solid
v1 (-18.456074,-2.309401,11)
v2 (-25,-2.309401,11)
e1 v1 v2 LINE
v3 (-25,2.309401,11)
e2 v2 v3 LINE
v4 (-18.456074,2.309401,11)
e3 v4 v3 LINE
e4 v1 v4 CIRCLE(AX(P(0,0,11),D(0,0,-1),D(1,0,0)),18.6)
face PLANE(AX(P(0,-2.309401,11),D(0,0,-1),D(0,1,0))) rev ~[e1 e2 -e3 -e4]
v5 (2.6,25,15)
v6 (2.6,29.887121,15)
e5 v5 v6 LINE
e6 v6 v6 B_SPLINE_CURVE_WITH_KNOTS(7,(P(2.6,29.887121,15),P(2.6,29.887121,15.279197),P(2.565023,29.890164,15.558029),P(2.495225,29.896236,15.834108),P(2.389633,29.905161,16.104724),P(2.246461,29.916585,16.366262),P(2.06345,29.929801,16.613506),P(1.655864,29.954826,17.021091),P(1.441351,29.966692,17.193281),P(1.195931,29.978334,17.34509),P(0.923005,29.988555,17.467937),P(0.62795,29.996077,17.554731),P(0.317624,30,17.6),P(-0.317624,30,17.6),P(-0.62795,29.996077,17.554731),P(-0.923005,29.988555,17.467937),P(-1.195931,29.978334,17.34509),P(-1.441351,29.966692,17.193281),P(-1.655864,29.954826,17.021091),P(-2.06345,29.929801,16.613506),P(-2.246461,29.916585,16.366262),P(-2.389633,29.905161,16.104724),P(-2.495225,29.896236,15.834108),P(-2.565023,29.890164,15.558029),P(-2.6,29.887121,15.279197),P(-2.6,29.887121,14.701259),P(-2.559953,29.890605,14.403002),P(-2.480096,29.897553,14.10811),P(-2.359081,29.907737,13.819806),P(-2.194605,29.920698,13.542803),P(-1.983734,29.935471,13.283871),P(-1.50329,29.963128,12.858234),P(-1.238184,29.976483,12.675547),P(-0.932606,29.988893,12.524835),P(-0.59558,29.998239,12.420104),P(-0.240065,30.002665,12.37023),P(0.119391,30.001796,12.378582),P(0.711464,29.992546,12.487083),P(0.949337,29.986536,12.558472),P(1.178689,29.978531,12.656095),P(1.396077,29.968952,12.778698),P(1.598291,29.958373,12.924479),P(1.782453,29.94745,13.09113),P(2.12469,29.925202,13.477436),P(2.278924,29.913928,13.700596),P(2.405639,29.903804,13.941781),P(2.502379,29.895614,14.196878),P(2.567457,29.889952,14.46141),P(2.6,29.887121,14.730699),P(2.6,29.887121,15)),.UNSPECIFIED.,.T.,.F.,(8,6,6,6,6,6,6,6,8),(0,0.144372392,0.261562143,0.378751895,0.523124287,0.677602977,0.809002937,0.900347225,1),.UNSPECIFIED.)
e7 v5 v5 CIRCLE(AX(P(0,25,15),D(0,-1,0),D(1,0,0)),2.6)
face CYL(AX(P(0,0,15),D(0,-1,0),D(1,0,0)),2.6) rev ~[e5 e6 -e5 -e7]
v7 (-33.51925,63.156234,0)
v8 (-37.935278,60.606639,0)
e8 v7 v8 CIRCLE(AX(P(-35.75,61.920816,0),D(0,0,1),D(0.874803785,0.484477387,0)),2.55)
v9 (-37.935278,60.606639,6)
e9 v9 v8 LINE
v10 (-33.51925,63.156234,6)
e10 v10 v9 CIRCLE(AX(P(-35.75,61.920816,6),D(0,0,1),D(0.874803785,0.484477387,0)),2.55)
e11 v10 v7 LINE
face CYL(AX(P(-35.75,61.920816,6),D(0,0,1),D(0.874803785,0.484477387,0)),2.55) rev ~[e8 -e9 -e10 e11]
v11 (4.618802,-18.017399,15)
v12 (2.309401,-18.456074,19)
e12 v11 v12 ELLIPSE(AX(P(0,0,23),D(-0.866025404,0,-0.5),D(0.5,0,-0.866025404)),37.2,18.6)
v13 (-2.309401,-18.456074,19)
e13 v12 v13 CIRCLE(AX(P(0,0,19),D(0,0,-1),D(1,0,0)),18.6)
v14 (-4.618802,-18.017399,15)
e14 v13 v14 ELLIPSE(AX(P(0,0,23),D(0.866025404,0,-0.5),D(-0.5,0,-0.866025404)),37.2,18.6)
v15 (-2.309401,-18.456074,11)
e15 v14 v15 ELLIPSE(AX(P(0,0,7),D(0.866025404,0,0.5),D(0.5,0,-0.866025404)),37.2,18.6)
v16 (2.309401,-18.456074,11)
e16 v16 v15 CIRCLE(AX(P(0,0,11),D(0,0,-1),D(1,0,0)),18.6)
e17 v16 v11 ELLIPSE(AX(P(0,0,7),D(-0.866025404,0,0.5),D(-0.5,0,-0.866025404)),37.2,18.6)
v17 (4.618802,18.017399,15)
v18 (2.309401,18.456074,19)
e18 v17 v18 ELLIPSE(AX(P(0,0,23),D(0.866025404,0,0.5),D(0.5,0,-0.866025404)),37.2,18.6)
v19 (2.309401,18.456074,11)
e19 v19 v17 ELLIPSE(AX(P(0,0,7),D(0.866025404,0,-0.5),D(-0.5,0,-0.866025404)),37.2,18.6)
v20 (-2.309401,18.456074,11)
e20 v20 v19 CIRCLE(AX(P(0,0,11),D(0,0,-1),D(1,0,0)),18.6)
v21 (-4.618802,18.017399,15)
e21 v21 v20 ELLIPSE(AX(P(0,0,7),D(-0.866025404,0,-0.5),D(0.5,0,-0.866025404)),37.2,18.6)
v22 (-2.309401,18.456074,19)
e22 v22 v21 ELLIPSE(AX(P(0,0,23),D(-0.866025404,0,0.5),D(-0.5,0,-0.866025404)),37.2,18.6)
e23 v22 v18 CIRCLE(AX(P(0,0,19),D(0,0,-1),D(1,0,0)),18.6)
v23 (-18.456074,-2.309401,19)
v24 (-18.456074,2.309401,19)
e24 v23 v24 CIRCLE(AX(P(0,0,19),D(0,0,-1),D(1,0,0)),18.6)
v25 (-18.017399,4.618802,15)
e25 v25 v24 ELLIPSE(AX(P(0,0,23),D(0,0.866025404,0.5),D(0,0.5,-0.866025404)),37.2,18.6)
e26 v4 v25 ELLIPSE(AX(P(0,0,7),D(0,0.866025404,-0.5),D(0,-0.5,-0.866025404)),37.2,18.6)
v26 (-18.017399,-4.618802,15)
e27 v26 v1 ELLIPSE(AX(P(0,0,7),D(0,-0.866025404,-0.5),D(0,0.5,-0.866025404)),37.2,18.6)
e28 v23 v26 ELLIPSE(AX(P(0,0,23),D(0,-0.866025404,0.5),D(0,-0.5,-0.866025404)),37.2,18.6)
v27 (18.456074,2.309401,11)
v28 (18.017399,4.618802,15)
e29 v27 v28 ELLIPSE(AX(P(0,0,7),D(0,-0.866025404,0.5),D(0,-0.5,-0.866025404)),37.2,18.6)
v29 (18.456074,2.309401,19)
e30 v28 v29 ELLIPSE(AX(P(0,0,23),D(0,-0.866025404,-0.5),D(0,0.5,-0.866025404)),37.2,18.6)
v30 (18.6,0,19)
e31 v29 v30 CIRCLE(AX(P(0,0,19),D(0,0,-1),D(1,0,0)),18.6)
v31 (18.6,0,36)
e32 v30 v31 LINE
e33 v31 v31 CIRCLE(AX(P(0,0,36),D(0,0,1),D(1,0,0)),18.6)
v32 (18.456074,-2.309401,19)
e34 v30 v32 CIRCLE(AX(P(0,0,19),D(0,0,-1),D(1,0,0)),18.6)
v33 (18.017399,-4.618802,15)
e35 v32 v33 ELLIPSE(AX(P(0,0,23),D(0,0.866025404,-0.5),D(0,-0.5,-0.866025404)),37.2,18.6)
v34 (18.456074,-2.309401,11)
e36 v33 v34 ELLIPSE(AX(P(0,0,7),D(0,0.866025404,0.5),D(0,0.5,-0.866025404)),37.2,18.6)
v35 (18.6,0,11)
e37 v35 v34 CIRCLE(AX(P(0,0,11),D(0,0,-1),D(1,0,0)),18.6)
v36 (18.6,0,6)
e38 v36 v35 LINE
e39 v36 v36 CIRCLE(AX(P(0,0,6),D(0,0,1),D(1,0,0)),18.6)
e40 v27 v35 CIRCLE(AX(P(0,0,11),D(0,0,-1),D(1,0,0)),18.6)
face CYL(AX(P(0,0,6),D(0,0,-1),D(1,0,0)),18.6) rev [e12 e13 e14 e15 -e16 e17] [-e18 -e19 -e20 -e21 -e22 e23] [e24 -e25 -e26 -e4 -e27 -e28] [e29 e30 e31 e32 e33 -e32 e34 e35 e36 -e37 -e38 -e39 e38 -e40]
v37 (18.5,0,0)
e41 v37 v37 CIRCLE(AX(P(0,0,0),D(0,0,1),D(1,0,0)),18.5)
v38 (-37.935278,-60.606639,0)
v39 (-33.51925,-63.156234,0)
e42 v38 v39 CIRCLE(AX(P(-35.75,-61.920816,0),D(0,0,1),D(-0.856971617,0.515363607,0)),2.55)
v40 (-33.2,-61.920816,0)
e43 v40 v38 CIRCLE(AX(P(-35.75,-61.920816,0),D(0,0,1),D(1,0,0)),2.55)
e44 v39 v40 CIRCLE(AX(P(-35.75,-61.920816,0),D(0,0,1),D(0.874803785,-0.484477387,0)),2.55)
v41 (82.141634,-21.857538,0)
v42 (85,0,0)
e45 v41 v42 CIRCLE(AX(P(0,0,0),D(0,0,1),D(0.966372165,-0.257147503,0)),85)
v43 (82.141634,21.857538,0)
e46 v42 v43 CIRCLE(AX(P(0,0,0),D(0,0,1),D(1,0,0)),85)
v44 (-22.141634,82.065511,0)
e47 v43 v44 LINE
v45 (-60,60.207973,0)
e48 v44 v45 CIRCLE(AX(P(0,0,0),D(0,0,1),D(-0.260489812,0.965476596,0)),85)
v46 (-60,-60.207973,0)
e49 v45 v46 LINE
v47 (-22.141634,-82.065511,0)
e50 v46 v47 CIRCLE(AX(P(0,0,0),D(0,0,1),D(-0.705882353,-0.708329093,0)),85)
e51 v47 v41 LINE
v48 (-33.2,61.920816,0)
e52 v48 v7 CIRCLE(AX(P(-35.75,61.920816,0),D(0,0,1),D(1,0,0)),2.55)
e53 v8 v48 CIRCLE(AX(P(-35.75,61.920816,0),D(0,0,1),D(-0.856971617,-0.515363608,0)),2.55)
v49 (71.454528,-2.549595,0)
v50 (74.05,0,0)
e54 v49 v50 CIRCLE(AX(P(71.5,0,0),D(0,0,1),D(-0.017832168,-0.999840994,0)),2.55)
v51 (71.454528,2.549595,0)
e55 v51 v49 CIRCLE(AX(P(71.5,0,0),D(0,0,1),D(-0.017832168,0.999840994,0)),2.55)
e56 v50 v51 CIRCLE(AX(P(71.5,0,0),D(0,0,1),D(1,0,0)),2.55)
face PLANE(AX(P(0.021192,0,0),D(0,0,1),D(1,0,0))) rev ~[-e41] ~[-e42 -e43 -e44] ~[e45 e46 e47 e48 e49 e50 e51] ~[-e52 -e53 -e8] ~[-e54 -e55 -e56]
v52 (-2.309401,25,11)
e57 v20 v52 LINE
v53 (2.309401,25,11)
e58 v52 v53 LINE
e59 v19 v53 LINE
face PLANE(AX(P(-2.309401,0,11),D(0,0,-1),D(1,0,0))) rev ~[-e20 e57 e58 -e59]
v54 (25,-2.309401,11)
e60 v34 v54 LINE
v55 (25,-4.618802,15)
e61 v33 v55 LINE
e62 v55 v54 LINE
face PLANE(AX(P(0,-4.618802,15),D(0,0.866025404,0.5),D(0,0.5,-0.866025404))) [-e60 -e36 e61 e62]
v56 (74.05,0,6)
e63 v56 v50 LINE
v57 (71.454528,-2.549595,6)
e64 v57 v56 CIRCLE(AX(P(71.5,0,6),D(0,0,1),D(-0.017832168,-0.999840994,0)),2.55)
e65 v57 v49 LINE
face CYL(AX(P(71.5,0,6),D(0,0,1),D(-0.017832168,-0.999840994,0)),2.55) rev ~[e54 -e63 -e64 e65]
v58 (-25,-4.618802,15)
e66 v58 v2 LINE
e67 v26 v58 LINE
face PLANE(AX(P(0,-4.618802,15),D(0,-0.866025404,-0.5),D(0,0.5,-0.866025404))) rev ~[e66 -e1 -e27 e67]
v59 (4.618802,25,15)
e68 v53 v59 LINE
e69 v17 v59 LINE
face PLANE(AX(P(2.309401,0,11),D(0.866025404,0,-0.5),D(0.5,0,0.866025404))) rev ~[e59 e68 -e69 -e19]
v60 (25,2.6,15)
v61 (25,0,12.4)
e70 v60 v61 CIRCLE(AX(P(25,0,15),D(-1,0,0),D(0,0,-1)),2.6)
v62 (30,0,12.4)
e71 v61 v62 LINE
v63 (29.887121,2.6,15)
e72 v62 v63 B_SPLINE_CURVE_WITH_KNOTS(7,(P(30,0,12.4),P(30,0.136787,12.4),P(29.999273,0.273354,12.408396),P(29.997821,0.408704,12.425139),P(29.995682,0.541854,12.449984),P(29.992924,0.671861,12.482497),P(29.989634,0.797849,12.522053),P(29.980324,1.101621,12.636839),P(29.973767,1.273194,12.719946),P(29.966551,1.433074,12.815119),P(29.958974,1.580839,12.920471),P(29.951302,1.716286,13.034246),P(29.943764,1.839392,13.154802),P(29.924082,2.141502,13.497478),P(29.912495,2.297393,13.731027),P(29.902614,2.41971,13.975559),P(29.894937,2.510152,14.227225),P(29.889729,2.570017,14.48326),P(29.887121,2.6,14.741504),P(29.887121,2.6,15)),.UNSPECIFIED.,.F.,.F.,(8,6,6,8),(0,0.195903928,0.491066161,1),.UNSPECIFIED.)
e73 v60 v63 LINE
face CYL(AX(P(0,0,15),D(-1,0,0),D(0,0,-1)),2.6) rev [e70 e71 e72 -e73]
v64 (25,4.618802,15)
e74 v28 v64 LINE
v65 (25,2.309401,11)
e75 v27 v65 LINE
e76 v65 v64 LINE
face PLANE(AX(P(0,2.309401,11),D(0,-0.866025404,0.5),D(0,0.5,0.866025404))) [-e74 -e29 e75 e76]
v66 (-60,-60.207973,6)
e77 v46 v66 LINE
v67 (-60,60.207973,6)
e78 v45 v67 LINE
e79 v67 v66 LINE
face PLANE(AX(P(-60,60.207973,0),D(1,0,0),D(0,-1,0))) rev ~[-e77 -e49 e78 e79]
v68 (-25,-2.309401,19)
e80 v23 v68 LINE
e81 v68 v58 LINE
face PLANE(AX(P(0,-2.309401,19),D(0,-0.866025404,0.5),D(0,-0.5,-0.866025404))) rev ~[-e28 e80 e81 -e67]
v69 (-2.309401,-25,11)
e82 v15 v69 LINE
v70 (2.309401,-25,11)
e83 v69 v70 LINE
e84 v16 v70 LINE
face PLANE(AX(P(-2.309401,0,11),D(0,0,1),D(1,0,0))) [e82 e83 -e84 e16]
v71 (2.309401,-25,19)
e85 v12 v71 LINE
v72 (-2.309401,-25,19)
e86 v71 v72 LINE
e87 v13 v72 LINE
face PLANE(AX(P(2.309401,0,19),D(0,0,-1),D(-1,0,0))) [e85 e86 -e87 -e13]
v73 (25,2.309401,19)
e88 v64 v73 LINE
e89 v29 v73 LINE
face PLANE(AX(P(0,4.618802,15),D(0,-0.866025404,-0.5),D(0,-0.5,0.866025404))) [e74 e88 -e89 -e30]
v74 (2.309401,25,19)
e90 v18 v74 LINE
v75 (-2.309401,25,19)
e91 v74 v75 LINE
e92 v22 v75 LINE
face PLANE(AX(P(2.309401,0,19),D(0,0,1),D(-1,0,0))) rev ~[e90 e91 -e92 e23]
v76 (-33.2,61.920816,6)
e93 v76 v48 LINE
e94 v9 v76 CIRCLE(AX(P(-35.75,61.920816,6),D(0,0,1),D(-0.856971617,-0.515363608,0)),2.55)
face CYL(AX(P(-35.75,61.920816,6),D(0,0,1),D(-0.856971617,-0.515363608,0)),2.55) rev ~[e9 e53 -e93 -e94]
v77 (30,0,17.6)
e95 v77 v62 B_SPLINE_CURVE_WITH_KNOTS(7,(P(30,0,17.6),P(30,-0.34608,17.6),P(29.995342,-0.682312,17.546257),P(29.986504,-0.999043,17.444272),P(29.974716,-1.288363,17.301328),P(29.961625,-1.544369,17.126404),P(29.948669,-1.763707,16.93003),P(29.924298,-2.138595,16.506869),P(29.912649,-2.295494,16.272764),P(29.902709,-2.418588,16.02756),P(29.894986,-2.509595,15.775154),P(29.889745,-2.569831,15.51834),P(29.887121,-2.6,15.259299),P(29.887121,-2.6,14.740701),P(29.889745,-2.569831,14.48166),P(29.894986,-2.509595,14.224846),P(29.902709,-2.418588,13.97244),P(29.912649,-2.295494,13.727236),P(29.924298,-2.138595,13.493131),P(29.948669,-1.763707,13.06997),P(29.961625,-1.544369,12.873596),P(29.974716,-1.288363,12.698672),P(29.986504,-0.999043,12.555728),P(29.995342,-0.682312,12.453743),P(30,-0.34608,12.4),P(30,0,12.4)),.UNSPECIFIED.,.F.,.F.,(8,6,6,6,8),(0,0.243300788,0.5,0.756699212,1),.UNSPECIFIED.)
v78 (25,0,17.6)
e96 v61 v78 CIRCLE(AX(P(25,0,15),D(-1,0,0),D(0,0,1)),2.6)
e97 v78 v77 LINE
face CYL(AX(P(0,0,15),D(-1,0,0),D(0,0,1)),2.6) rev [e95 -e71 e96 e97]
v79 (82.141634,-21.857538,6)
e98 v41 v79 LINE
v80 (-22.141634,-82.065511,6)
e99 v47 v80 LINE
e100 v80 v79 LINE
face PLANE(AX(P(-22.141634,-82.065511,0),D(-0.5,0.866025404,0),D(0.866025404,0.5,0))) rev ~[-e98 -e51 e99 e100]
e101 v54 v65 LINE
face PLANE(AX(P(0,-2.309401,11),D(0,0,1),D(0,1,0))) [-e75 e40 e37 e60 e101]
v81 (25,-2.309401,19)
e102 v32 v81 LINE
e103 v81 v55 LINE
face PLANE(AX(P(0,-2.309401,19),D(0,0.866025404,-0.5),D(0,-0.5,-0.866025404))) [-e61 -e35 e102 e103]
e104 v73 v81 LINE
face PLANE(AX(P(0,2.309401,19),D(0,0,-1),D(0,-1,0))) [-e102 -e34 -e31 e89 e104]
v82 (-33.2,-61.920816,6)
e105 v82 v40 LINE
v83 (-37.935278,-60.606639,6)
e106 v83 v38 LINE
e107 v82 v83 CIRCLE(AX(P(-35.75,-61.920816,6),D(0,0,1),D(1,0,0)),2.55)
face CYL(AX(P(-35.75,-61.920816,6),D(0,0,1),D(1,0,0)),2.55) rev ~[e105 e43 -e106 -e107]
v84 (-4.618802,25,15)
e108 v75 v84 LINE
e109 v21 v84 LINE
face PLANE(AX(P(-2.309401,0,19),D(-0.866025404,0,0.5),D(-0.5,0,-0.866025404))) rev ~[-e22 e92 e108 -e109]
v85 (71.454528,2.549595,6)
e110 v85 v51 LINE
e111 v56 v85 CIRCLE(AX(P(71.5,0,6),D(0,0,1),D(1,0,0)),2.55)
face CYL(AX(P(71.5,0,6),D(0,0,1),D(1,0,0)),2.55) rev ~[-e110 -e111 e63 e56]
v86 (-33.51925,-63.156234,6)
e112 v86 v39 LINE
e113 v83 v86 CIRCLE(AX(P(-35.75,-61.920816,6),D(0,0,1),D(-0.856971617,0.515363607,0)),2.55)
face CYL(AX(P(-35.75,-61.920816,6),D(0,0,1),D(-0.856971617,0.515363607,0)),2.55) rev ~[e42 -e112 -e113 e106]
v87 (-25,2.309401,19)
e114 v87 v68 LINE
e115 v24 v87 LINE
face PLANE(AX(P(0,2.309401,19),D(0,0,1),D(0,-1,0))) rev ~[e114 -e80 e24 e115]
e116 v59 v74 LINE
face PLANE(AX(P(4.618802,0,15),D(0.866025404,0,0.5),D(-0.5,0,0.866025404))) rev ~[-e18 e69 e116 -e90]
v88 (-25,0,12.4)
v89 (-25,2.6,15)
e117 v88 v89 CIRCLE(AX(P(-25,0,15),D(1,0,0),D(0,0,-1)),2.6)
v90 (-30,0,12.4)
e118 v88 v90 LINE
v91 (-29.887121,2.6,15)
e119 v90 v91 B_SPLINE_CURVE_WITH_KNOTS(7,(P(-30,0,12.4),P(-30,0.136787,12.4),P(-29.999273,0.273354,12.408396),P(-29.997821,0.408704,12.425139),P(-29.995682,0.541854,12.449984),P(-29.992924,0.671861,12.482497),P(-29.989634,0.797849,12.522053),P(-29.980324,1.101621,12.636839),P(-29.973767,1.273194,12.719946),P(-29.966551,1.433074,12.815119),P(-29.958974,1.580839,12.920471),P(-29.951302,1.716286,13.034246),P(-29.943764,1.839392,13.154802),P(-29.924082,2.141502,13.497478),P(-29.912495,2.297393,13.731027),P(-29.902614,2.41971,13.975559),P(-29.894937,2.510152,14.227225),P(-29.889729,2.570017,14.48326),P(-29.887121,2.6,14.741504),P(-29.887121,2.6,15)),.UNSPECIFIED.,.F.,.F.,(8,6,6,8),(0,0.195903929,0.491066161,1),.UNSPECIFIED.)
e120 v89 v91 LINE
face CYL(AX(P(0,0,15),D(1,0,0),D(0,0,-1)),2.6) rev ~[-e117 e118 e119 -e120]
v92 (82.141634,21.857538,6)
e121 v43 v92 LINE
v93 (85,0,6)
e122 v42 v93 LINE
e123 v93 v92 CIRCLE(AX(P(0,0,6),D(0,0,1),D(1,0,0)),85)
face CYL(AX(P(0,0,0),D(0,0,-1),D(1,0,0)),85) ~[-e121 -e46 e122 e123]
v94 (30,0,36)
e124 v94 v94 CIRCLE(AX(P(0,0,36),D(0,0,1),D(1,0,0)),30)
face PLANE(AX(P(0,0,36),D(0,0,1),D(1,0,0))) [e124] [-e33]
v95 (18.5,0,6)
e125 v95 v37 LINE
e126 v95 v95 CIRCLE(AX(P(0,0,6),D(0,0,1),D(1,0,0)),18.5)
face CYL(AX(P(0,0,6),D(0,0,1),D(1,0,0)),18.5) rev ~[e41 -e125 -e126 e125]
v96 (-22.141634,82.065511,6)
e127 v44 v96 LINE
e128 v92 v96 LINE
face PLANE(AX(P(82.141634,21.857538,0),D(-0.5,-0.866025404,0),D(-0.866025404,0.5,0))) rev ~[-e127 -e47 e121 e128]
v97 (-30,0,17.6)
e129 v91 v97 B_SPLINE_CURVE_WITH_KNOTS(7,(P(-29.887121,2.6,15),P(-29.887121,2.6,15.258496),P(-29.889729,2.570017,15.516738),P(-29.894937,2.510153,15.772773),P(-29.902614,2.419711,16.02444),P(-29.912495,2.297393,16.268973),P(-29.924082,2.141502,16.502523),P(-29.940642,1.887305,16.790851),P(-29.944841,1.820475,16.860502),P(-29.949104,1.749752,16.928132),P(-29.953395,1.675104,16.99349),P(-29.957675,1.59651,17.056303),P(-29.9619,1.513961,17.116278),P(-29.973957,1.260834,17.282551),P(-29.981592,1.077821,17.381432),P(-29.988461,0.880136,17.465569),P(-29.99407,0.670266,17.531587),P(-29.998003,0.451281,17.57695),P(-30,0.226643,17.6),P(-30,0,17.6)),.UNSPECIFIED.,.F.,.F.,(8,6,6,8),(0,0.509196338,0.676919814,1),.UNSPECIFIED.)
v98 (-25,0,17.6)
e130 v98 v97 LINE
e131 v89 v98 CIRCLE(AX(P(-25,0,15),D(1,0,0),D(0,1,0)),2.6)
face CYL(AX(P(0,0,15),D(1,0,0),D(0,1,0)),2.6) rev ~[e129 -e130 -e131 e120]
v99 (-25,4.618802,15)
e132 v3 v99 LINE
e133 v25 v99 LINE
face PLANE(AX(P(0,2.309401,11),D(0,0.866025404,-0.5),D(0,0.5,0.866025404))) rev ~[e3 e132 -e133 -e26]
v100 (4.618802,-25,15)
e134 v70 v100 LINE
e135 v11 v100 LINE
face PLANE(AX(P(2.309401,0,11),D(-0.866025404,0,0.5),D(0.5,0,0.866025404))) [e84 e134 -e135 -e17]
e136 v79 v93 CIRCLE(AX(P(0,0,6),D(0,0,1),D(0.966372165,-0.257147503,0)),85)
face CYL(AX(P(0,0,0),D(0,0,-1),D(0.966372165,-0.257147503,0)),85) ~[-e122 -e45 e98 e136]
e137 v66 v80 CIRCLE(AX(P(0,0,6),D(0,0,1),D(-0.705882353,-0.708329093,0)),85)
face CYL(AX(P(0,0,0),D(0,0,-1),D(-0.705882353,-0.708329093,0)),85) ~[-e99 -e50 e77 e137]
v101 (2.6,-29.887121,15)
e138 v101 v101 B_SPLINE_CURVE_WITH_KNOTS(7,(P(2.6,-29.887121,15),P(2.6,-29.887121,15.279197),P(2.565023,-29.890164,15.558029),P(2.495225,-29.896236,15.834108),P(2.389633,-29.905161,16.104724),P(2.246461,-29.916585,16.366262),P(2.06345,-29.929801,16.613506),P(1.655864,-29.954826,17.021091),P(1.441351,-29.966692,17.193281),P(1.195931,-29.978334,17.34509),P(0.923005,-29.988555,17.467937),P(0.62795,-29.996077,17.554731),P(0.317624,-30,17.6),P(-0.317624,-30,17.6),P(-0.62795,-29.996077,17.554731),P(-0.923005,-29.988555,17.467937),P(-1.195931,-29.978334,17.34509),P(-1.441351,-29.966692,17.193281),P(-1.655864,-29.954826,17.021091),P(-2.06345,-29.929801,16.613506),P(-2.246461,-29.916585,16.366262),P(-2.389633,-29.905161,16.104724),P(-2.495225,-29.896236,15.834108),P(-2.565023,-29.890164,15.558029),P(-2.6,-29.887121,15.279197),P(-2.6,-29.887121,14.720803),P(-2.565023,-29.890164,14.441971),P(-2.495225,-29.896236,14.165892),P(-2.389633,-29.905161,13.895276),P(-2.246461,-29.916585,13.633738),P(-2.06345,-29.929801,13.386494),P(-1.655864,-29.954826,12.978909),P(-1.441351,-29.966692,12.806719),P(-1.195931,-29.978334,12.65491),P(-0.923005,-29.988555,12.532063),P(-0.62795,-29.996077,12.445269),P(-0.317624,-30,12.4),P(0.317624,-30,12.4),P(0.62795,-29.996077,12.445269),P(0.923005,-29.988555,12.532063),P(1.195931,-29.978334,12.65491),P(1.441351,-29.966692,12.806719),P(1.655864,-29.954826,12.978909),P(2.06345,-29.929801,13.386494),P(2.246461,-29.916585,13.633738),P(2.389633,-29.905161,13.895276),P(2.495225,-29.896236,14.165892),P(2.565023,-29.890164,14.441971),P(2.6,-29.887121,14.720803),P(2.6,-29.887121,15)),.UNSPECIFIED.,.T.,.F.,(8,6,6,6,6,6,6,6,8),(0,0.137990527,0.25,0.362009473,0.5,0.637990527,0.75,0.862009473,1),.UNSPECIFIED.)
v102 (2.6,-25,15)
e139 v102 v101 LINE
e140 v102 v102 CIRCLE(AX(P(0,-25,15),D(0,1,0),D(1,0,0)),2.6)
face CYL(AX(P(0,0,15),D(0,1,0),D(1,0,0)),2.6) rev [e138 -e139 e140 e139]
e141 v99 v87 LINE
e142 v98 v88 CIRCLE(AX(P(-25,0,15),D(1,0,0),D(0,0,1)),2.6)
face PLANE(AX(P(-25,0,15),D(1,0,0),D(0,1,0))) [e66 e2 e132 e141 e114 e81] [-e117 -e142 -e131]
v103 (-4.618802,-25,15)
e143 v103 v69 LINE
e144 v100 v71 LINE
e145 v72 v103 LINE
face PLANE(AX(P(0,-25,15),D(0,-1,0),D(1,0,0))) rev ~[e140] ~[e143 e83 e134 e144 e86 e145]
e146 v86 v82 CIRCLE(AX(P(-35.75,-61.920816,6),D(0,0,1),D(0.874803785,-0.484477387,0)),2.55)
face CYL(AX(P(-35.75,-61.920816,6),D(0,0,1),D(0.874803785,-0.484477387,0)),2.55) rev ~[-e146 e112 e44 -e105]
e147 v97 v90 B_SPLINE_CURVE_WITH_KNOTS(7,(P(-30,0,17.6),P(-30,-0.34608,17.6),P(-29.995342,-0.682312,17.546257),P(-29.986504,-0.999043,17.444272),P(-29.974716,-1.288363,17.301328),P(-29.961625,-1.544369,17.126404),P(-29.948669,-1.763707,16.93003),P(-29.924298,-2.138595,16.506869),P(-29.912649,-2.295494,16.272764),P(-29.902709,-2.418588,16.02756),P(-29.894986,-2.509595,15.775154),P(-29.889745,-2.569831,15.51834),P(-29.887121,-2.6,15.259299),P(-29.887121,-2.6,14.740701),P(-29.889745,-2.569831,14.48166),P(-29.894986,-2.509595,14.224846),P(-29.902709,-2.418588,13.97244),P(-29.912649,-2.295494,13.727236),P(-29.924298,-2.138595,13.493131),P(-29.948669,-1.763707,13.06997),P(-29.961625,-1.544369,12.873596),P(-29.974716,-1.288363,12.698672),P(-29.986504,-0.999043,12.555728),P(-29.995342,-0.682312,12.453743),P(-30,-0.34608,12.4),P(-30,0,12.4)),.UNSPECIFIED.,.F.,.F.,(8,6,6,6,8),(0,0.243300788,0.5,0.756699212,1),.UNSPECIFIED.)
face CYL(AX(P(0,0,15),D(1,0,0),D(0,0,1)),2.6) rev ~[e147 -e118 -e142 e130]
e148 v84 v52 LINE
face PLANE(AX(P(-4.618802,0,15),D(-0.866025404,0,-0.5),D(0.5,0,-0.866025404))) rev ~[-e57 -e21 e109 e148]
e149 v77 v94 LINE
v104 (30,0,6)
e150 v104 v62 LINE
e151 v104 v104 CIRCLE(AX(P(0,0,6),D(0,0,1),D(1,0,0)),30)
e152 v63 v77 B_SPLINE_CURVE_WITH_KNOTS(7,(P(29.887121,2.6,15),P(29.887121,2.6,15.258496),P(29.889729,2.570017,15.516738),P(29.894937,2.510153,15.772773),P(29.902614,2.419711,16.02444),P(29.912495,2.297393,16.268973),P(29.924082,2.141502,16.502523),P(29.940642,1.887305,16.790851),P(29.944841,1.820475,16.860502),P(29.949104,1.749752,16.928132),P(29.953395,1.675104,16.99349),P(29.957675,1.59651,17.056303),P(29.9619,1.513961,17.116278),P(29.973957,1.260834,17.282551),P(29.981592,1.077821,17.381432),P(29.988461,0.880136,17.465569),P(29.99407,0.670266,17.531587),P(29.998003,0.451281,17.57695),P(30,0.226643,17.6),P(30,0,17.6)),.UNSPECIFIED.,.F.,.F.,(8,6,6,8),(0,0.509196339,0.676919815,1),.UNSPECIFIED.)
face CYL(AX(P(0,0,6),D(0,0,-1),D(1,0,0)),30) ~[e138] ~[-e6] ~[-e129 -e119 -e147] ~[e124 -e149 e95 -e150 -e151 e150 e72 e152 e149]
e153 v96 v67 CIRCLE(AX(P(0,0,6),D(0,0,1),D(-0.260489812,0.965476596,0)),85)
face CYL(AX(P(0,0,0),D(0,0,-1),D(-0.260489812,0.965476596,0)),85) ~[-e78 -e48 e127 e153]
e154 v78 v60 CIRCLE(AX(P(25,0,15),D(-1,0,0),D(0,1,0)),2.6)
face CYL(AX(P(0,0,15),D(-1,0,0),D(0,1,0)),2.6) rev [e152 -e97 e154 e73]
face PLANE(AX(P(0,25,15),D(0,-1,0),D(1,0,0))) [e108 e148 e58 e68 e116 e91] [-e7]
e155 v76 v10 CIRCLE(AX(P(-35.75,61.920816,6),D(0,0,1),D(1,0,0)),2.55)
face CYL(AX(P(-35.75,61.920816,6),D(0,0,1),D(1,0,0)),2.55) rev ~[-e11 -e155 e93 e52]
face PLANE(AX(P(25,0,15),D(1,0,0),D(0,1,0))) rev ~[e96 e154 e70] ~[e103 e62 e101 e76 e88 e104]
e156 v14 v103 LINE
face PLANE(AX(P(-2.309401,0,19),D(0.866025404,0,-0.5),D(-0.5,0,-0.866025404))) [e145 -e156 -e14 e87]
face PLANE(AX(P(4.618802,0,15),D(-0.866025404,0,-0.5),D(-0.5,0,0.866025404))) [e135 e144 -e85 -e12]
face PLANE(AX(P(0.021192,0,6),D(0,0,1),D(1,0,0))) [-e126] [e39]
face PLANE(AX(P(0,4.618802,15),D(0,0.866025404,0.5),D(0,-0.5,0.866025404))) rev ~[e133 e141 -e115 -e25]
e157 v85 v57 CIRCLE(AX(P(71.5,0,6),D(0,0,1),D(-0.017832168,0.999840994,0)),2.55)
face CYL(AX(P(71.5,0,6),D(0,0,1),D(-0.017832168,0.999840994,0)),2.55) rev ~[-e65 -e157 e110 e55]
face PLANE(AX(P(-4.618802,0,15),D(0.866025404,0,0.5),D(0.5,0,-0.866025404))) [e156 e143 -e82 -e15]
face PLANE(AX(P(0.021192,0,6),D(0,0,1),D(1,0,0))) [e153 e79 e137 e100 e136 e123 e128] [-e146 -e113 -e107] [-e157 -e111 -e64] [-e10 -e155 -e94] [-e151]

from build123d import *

# Parameters (mm, degrees)
F1_DEPTH       = 6
F3_DEPTH       = 25
F4_R           = 30
F4_R_2         = 18.6
F5_DEPTH       = 30
F6_R           = 18.5
F7_DEPTH       = 25
F9_DEPTH       = 25
F9_DEPTH_BACK  = 25
F11_DEPTH      = 25
F11_DEPTH_BACK = 25
F13_DEPTH      = 60.001
F13_DEPTH_BACK = 85.001
F14_R          = 2.6
F15_DEPTH      = 82.066510674
F15_DEPTH_BACK = 82.066510674


with BuildPart() as f1:
    # F0 (on Top) → F1 (new body)
    with BuildSketch(Plane.XY):
        with BuildLine():
            ThreePointArc((82.1416340365, -21.8575377801), (84.2823792174, -11.0218216937), (85, 0))
            ThreePointArc((85, 0), (84.2823792174, 11.0218216937), (82.1416340365, 21.8575377801))
            Line((82.1416340365, 21.8575377801), (-22.1416340365, 82.065510674))
            ThreePointArc((-22.1416340365, 82.065510674), (-42.5, 73.6121593217), (-60, 60.207972894))
            Line((-60, 60.207972894), (-60, -60.207972894))
            ThreePointArc((-60, -60.207972894), (-42.5, -73.6121593217), (-22.1416340365, -82.065510674))
            Line((-22.1416340365, -82.065510674), (82.1416340365, -21.8575377801))
        make_face()
    extrude(amount=F1_DEPTH)

    # F2 (on face) → F3 (cut)
    with BuildSketch(Plane.XY.offset(6)):
        with BuildLine():
            ThreePointArc((71.454527972, -2.5495945353), (71.4886310891, -1.275), (71.5, 0))
            ThreePointArc((71.5, 0), (71.4886310891, 1.275), (71.454527972, 2.5495945353))
            ThreePointArc((71.454527972, 2.5495945353), (68.95, 0), (71.454527972, -2.5495945353))
        make_face()
        with BuildLine():
            ThreePointArc((71.454527972, 2.5495945353), (71.4886310891, 1.275), (71.5, 0))
            ThreePointArc((71.5, 0), (71.4886310891, -1.275), (71.454527972, -2.5495945353))
            ThreePointArc((71.454527972, -2.5495945353), (73.2869731851, -1.8191280427), (74.05, 0))
            ThreePointArc((74.05, 0), (73.2869731851, 1.8191280427), (71.454527972, 2.5495945353))
        make_face()
        with BuildLine():
            ThreePointArc((-37.935277623, -60.6066391715), (-37.025, -64.1291811502), (-33.5192503491, -63.1562337069))
            ThreePointArc((-33.5192503491, -63.1562337069), (-35.75, -61.9208163706), (-37.935277623, -60.6066391715))
        make_face()
        with BuildLine():
            ThreePointArc((-37.935277623, -60.6066391715), (-35.75, -61.9208163706), (-33.5192503491, -63.1562337069))
            ThreePointArc((-33.5192503491, -63.1562337069), (-33.2811023097, -62.5588165234), (-33.2, -61.9208163706))
            ThreePointArc((-33.2, -61.9208163706), (-35.0680754949, -59.4636881751), (-37.935277623, -60.6066391715))
        make_face()
        with BuildLine():
            ThreePointArc((-37.935277623, 60.6066391715), (-35.75, 61.9208163706), (-33.5192503491, 63.1562337069))
            ThreePointArc((-33.5192503491, 63.1562337069), (-37.025, 64.1291811502), (-37.935277623, 60.6066391715))
        make_face()
        with BuildLine():
            ThreePointArc((-33.2, 61.9208163706), (-33.2811023097, 62.5588165234), (-33.5192503491, 63.1562337069))
            ThreePointArc((-33.5192503491, 63.1562337069), (-35.75, 61.9208163706), (-37.935277623, 60.6066391715))
            ThreePointArc((-37.935277623, 60.6066391715), (-35.0680754949, 59.4636881751), (-33.2, 61.9208163706))
        make_face()
    extrude(amount=-F3_DEPTH, mode=Mode.SUBTRACT)

    # F4 (on face) → F5 (join)
    with BuildSketch(Plane.XY.offset(6)):
        Circle(F4_R)
        Circle(F4_R_2, mode=Mode.SUBTRACT)
    extrude(amount=F5_DEPTH)

    # F6 (on face) → F7 (cut)
    with BuildSketch(Plane.XY.offset(6)):
        Circle(F6_R)
    extrude(amount=-F7_DEPTH, mode=Mode.SUBTRACT)

    # F8 (on Right) → F9 (cut, two sides)
    with BuildSketch(Plane.YZ) as f9_sk:
        Polygon((-2.3094010768, 11), (2.3094010768, 11), (4.6188021535, 15), (2.3094010768, 19), (-2.3094010768, 19), (-4.6188021535, 15), align=None)
    extrude(amount=F9_DEPTH, mode=Mode.SUBTRACT)
    extrude(f9_sk.sketch, amount=-F9_DEPTH_BACK, mode=Mode.SUBTRACT)

    # F10 (on Front) → F11 (cut, two sides)
    with BuildSketch(Plane.XZ) as f11_sk:
        Polygon((-2.3094010768, 11), (2.3094010768, 11), (4.6188021535, 15), (2.3094010768, 19), (-2.3094010768, 19), (-4.6188021535, 15), align=None)
    extrude(amount=F11_DEPTH, mode=Mode.SUBTRACT)
    extrude(f11_sk.sketch, amount=-F11_DEPTH_BACK, mode=Mode.SUBTRACT)

    # F12 (on Right) → F13 (cut, two sides)
    with BuildSketch(Plane.YZ) as f13_sk:
        with BuildLine():
            ThreePointArc((0, 17.6), (-2.6, 15), (0, 12.4))
            Line((0, 12.4), (0, 17.6))
        make_face()
        with BuildLine():
            Line((0, 17.6), (0, 12.4))
            ThreePointArc((0, 12.4), (1.8384776311, 13.1615223689), (2.6, 15))
            ThreePointArc((2.6, 15), (1.8384776311, 16.8384776311), (0, 17.6))
        make_face()
    extrude(amount=-F13_DEPTH, mode=Mode.SUBTRACT)
    extrude(f13_sk.sketch, amount=F13_DEPTH_BACK, mode=Mode.SUBTRACT)

    # F14 (on Front) → F15 (cut, two sides)
    with BuildSketch(Plane.XZ) as f15_sk:
        with Locations((0, 15)):
            Circle(F14_R)
    extrude(amount=F15_DEPTH, mode=Mode.SUBTRACT)
    extrude(f15_sk.sketch, amount=-F15_DEPTH_BACK, mode=Mode.SUBTRACT)


solid = f1.part
